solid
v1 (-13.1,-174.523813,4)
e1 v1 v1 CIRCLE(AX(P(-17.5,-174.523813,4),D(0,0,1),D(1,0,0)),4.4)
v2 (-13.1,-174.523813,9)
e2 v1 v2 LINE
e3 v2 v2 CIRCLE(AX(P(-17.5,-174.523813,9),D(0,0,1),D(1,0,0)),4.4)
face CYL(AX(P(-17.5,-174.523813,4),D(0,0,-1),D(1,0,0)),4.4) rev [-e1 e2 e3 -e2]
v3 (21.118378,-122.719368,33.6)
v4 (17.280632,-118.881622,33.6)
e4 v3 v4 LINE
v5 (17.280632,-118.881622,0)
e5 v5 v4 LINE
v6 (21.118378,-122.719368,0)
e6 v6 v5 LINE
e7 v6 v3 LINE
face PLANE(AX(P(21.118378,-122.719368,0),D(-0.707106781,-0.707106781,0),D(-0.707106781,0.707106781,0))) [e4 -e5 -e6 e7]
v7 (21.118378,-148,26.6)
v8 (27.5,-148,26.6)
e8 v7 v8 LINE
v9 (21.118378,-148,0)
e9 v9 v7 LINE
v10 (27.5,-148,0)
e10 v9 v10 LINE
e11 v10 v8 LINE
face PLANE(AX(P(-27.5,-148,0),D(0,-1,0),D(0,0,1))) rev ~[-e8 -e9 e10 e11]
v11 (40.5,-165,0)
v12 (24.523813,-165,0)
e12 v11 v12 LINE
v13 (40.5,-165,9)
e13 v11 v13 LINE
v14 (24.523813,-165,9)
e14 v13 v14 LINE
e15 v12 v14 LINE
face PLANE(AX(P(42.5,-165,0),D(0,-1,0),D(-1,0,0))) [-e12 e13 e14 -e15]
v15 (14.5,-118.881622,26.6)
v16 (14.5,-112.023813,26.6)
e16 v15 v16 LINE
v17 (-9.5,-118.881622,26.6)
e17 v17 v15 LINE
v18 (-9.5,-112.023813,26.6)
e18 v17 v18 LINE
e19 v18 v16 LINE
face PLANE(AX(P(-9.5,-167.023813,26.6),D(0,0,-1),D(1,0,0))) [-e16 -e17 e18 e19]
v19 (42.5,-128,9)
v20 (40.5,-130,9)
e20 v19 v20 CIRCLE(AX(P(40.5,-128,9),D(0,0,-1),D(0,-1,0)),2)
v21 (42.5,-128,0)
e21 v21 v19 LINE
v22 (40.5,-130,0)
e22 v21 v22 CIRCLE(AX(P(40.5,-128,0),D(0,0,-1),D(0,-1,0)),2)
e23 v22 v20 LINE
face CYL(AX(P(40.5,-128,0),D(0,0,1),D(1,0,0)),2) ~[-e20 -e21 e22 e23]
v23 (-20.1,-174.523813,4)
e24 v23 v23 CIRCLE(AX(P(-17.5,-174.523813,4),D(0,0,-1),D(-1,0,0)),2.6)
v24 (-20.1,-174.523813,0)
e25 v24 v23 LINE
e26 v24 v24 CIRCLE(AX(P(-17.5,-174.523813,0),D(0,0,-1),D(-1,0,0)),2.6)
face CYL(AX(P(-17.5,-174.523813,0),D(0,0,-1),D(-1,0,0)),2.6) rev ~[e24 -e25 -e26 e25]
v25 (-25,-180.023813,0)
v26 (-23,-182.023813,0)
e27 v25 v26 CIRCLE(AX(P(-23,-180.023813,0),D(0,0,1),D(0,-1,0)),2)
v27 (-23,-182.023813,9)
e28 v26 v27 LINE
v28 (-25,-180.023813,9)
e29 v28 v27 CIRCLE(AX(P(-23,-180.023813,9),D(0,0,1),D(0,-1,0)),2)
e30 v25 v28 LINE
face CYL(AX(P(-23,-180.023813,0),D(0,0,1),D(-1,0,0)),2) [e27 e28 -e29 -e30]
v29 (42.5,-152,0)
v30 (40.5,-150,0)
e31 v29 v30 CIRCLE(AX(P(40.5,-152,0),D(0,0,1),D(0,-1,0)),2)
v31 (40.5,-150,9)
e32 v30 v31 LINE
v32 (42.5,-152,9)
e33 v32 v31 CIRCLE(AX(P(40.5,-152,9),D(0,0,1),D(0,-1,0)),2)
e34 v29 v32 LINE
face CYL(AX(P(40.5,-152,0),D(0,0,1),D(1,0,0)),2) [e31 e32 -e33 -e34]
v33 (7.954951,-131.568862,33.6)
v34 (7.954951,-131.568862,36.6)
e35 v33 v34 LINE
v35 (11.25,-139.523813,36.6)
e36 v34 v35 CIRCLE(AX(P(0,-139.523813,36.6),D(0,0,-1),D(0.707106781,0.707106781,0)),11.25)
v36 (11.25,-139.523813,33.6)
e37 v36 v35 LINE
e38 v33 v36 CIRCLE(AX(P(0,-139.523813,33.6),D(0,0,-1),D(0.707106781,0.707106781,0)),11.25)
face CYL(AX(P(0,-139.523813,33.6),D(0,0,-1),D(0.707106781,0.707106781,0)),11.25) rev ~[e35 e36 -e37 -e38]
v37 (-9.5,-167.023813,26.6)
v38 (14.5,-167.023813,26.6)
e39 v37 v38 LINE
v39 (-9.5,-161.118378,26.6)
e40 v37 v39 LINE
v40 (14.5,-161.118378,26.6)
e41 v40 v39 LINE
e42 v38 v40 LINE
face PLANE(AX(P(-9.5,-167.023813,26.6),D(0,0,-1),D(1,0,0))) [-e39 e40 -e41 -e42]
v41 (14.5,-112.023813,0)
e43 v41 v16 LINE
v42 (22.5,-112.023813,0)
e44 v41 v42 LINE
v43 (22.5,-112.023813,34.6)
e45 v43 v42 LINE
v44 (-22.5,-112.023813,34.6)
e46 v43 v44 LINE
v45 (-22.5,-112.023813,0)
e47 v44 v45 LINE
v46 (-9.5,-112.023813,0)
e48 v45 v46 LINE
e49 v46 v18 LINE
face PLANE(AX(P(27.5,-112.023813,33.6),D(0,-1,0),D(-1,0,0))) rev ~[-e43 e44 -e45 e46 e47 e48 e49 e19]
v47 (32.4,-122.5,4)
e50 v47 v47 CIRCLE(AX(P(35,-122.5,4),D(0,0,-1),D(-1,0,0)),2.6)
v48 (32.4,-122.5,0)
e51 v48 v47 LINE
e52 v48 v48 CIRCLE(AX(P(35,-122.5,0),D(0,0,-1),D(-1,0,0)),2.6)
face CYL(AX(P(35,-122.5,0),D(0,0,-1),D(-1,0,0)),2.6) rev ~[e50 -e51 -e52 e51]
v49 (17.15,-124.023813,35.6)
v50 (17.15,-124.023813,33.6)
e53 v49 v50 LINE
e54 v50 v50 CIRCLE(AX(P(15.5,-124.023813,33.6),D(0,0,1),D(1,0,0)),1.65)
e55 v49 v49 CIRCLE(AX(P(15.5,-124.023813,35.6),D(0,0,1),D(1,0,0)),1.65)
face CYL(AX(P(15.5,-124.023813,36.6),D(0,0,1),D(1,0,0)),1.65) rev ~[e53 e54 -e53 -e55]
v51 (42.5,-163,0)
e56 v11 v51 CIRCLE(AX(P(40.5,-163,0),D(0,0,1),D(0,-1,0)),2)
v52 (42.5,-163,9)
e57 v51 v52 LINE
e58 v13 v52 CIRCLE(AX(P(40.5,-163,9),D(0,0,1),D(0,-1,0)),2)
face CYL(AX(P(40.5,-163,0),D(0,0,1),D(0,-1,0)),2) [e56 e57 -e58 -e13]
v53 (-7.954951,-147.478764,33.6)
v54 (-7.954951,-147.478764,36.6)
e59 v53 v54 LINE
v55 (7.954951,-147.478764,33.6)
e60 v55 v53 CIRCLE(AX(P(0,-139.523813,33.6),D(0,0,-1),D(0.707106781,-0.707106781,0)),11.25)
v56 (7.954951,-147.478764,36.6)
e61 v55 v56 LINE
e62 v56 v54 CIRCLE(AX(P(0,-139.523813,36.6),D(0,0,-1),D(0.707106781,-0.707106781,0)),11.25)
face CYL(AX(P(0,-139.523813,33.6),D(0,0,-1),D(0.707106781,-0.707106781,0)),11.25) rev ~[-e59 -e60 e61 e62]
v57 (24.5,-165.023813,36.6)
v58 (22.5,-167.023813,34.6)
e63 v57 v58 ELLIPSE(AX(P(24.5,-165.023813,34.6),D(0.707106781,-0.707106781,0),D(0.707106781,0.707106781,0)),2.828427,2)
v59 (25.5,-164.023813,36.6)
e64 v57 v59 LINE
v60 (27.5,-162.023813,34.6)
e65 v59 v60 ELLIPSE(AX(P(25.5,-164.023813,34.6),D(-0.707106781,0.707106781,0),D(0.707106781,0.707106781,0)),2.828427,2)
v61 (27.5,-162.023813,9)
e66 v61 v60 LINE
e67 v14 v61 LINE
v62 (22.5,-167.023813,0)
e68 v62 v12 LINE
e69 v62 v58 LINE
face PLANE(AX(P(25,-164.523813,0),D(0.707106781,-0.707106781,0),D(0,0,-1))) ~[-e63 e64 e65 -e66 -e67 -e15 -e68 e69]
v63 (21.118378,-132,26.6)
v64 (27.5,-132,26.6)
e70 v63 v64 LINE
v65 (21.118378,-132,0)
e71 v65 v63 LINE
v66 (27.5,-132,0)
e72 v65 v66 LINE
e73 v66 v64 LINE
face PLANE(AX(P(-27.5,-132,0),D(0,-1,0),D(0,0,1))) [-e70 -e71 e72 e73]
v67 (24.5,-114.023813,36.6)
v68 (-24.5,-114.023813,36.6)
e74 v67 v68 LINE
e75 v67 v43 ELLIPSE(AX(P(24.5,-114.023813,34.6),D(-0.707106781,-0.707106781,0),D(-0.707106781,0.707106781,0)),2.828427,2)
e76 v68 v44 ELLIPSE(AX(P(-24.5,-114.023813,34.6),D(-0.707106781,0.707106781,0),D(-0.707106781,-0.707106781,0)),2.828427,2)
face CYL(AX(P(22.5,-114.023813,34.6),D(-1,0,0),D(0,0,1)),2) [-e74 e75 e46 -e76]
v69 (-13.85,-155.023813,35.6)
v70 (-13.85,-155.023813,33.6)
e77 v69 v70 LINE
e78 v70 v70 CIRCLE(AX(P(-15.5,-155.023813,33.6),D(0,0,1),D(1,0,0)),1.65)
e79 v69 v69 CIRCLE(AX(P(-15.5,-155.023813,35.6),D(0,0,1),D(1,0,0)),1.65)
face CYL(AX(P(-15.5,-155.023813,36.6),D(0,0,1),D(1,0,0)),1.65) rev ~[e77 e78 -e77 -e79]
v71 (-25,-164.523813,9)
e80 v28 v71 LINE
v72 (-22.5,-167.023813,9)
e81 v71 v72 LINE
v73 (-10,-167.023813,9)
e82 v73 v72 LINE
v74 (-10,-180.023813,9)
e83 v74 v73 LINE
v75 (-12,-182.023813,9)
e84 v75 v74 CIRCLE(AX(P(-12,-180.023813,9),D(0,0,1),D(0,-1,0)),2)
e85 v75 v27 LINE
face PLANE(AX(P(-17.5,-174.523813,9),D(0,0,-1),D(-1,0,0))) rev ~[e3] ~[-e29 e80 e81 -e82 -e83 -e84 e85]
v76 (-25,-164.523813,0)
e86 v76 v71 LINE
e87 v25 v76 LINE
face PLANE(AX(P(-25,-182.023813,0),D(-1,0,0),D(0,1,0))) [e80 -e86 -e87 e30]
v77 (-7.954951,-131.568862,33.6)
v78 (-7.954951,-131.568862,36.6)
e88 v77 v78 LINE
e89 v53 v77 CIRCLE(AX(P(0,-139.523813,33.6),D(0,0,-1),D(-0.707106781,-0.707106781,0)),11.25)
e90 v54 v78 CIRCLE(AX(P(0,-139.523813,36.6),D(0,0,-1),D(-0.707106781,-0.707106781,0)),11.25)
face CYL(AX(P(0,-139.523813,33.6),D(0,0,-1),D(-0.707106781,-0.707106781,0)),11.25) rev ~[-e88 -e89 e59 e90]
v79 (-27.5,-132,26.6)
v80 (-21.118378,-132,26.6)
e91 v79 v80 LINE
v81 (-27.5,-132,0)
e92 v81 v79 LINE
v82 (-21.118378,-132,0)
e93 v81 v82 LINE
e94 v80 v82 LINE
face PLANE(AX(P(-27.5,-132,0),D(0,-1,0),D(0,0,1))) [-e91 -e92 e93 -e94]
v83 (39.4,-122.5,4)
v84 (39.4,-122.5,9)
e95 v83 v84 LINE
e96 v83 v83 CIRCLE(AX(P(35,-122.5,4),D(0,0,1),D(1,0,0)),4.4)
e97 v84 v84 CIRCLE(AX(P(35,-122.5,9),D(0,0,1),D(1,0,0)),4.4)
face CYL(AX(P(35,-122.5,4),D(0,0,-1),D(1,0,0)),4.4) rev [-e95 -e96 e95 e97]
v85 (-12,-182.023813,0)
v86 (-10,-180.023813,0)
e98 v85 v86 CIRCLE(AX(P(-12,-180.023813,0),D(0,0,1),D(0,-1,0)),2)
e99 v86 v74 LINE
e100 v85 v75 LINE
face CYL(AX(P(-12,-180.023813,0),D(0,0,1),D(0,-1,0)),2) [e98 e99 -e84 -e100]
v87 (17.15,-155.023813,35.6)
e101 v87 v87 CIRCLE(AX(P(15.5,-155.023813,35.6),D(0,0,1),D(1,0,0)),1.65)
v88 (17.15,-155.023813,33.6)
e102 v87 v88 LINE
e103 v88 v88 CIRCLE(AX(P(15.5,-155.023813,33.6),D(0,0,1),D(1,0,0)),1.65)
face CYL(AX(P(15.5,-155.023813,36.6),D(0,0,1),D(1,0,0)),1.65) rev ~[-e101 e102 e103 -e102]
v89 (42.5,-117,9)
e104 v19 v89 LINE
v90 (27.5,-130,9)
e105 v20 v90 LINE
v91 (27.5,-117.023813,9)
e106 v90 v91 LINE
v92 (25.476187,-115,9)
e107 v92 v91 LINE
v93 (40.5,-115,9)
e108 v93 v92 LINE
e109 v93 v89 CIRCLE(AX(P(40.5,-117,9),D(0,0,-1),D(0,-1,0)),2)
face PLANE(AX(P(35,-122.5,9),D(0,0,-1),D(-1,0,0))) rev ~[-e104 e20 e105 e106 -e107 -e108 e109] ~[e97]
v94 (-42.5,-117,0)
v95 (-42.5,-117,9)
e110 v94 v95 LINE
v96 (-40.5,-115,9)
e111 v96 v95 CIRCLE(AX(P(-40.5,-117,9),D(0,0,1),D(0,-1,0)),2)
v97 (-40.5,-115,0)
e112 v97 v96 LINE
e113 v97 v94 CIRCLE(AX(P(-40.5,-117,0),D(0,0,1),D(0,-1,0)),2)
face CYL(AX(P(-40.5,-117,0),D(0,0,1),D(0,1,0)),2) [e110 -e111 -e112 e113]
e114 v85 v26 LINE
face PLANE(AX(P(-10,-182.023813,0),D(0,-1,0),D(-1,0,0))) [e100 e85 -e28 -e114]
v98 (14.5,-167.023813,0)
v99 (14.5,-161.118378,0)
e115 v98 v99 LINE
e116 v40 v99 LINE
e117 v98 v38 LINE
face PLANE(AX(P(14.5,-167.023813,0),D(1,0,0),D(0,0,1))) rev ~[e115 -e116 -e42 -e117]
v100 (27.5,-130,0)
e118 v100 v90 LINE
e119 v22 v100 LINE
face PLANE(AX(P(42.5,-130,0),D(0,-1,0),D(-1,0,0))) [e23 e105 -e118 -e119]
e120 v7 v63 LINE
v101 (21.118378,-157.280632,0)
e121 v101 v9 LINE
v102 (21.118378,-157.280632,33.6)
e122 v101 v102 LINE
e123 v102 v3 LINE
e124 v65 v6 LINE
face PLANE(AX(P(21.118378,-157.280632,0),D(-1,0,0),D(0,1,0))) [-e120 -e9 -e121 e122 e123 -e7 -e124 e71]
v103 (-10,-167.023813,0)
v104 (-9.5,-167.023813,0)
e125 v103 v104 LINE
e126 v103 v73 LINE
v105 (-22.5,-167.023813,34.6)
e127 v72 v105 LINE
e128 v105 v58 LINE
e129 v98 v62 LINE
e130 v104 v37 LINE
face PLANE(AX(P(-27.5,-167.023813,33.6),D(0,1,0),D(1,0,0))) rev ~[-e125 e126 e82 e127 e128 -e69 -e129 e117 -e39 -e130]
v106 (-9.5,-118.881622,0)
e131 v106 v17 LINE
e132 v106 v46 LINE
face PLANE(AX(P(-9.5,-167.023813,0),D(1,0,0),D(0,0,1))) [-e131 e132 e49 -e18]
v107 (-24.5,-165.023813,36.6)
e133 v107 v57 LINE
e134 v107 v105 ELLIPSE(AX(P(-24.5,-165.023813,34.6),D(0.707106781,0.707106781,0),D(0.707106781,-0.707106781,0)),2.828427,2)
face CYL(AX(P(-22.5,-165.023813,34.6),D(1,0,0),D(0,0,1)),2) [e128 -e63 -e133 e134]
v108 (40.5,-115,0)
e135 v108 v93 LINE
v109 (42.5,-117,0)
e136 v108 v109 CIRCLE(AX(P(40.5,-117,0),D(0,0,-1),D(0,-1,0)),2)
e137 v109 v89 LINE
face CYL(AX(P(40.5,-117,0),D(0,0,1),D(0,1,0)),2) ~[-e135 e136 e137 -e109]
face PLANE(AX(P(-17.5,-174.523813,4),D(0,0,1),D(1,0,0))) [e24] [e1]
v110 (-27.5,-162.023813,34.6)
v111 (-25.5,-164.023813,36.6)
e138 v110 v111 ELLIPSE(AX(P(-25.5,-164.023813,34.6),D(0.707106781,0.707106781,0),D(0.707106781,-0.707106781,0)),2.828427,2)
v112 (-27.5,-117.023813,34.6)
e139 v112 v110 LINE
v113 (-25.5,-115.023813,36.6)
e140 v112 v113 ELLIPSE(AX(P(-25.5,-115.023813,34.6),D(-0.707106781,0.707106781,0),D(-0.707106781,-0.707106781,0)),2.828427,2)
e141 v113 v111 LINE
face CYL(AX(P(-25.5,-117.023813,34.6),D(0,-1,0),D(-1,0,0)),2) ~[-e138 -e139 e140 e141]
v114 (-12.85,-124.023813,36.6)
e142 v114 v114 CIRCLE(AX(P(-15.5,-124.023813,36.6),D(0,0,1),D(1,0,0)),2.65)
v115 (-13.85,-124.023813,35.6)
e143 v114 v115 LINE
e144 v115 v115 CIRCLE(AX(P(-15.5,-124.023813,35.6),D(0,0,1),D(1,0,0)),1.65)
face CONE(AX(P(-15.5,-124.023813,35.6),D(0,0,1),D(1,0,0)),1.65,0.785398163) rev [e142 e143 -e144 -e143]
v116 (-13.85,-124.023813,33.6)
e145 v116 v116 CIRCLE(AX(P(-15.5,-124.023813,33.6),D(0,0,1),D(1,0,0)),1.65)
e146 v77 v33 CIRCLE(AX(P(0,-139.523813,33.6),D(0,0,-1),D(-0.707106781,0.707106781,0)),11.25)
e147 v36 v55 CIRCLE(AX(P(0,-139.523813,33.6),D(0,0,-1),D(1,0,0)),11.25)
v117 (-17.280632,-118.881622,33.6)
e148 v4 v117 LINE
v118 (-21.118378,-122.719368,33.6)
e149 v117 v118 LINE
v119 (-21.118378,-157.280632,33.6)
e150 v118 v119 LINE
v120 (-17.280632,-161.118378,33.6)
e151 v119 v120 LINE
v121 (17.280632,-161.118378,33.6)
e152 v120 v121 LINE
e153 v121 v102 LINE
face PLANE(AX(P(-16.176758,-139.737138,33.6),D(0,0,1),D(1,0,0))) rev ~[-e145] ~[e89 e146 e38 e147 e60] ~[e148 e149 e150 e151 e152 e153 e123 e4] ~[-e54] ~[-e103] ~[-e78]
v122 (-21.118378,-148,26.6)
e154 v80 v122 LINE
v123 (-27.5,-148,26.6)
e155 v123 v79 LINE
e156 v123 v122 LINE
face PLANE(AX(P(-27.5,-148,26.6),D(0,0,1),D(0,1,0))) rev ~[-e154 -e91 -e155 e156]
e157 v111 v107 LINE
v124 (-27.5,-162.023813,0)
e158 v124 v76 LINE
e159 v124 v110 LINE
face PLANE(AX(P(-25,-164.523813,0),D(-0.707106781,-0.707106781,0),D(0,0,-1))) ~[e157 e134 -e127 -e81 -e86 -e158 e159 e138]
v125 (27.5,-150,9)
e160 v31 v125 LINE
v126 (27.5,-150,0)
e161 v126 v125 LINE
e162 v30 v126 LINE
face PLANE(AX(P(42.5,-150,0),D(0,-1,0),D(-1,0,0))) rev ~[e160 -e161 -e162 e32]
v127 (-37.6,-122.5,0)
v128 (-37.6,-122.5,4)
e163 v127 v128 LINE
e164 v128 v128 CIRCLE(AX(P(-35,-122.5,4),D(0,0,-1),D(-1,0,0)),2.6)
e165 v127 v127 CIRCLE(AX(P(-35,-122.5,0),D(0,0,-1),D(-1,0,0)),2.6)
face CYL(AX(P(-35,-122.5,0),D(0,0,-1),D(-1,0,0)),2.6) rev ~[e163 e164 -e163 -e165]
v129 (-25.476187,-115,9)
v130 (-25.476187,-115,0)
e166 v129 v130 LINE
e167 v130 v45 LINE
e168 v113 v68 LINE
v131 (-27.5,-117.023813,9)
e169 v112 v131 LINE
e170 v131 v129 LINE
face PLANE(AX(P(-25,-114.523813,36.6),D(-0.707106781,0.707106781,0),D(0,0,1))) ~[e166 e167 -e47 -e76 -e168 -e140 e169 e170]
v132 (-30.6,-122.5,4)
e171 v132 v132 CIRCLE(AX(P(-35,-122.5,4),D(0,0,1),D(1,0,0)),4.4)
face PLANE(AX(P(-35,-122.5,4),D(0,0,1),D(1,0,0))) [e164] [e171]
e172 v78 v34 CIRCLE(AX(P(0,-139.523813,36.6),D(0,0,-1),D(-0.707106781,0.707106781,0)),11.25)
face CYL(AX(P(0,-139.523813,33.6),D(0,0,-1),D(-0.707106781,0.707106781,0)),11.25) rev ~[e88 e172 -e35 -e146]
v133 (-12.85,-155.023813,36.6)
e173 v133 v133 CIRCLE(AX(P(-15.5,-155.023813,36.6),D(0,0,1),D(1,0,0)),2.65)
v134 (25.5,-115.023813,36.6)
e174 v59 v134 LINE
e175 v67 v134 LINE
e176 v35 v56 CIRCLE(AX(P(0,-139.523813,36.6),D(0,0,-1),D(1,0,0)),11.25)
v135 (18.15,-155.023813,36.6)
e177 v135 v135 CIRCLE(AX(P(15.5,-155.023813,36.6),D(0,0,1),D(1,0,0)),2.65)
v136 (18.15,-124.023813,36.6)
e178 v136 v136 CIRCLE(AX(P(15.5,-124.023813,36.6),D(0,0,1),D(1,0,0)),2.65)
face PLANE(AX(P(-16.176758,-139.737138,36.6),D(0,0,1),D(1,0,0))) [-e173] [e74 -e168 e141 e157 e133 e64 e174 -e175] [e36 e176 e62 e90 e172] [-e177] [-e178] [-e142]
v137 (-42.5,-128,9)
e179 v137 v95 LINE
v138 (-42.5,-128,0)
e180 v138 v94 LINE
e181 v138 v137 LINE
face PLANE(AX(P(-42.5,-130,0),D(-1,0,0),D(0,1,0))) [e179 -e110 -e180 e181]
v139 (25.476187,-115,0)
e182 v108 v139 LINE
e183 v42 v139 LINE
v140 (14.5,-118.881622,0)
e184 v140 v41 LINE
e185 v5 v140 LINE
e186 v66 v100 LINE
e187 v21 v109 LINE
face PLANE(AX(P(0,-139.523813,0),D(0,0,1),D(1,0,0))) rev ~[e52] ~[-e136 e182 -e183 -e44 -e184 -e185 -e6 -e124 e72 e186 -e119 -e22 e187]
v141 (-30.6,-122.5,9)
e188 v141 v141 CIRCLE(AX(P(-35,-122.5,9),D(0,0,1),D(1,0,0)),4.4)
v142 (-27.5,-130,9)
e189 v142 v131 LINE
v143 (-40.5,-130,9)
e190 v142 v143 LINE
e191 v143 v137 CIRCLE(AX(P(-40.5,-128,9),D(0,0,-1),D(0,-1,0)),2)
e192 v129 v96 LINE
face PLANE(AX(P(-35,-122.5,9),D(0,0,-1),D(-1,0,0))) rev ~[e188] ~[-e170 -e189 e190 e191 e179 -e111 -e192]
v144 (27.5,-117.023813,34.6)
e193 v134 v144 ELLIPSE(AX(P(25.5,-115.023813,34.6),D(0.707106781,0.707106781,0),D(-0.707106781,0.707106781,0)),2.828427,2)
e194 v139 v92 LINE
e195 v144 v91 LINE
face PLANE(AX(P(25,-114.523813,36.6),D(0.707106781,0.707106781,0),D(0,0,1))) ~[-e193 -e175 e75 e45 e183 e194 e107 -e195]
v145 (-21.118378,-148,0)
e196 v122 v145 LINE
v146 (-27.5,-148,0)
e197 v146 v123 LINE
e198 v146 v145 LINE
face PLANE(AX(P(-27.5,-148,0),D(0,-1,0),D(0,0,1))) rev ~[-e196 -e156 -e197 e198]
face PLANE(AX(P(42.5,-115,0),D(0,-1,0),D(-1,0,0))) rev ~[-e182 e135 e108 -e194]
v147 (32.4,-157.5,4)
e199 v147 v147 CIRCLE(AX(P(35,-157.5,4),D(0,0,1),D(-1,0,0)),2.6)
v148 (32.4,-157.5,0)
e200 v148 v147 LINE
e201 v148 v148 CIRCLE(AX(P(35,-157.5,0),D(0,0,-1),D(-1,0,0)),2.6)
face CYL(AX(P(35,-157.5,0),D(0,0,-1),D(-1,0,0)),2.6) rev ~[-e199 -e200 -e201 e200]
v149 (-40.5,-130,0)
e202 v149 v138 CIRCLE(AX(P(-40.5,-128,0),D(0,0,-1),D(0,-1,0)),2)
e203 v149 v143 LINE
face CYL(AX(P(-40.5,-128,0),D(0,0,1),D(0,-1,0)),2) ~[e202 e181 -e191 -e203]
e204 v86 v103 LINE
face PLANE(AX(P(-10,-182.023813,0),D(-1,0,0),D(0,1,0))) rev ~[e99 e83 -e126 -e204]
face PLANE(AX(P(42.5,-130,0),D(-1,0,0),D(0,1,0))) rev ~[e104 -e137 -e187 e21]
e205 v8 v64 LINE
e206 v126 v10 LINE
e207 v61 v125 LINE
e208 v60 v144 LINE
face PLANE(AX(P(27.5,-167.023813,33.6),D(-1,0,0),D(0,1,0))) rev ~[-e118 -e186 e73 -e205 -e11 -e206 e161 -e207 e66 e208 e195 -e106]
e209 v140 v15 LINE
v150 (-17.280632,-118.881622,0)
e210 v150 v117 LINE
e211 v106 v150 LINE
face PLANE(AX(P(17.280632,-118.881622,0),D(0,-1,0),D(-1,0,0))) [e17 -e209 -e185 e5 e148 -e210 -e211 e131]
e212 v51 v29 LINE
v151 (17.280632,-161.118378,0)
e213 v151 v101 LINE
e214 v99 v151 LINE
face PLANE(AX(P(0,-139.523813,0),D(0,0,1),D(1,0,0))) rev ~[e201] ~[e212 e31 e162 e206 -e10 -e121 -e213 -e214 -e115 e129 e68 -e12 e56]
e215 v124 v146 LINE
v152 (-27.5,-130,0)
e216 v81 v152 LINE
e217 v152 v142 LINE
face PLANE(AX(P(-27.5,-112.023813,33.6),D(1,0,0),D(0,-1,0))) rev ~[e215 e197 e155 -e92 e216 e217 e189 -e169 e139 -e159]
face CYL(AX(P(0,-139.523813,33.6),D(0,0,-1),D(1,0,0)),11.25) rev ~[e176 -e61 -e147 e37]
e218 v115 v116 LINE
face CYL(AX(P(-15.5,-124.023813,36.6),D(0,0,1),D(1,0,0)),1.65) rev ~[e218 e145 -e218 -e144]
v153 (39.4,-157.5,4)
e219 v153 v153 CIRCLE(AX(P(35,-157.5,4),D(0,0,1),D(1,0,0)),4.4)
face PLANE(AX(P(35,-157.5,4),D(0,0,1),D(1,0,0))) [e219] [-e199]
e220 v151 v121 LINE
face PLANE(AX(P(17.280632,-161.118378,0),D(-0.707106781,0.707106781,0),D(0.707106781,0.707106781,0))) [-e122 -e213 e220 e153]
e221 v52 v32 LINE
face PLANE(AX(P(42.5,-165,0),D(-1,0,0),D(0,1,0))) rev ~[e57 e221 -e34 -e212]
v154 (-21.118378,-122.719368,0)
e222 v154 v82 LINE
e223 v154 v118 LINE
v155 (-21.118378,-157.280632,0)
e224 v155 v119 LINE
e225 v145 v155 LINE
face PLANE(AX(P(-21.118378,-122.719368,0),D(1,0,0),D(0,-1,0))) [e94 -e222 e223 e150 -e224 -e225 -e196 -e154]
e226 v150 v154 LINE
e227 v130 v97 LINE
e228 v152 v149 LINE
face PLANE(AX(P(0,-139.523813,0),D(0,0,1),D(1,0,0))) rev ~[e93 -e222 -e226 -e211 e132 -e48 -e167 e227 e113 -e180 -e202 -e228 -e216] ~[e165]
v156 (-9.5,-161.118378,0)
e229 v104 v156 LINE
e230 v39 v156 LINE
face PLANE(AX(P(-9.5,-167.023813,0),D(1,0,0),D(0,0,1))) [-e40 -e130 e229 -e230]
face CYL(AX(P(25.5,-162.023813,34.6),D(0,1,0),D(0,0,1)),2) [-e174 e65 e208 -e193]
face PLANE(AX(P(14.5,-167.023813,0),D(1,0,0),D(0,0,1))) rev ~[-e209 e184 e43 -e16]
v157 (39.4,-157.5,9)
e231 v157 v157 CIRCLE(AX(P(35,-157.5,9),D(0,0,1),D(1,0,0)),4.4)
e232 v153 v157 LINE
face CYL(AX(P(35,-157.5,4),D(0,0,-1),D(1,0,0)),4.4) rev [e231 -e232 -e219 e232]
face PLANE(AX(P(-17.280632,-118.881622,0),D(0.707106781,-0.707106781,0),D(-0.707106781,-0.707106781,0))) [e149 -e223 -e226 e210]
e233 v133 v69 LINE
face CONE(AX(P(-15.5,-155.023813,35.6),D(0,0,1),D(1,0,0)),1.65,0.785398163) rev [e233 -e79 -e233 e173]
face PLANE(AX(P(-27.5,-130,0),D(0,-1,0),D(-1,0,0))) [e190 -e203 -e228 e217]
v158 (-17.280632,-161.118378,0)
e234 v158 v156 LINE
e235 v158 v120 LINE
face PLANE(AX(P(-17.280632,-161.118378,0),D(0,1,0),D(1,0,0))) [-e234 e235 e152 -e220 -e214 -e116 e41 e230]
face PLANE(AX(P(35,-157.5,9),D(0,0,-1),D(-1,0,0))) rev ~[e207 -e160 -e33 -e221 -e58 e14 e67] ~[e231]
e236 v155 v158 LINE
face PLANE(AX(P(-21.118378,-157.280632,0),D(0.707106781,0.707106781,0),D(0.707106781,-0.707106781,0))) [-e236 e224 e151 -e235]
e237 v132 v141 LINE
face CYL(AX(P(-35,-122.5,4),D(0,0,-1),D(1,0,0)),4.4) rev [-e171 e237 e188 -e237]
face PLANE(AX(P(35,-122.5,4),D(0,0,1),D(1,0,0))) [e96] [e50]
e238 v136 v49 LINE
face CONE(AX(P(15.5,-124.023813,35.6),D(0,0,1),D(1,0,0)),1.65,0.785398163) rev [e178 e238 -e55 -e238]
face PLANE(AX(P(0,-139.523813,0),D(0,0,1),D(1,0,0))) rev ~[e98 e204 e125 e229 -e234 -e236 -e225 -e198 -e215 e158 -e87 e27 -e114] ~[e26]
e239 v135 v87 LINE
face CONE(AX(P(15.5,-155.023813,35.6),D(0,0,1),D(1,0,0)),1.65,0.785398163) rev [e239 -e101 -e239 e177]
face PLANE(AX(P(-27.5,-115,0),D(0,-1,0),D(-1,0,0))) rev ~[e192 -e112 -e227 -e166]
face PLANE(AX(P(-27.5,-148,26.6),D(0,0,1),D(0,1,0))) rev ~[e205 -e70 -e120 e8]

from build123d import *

# Parameters (mm, degrees)
SKETCH2_W           = 55
SKETCH2_H           = 55
BOSS_EXTRUDE1_DEPTH = 33.6
BOSS_EXTRUDE2_DEPTH = 3
SKETCH4_W           = 15
SKETCH4_H           = 15
SKETCH4_R           = 2.6
BOSS_EXTRUDE3_DEPTH = 9
CUT_EXTRUDE1_START  = -5
SKETCH6_R           = 4.4
SKETCH6_R_2         = 2.6
CUT_EXTRUDE1_DEPTH  = 5
CHAMFER1_SIZE       = 5
FILLET4_R           = 2
SKETCH7_W           = 24
SKETCH7_H           = 26.6
CUT_EXTRUDE2_DEPTH  = 67
SKETCH8_W           = 26.6
SKETCH8_H           = 16
CUT_EXTRUDE3_DEPTH  = 67
SKETCH10_R          = 1.65
CUT_EXTRUDE4_DEPTH  = 10
CHAMFER2_SIZE       = 1


with BuildPart() as part:
    # Sketch2 → Boss-Extrude1 (new body)
    with BuildSketch(Plane.XY):
        with Locations((0, 0.476186899)):
            Rectangle(SKETCH2_W, SKETCH2_H)
        Polygon((21.118377871, -17.280631787), (21.118377871, 17.280631787), (17.280631787, 21.118377871), (-17.280631787, 21.118377871), (-21.118377871, 17.280631787), (-21.118377871, -17.280631787), (-17.280631787, -21.118377871), (17.280631787, -21.118377871), align=None, mode=Mode.SUBTRACT)
    extrude(amount=BOSS_EXTRUDE1_DEPTH)

    # Sketch3 → Boss-Extrude2 (add)
    with BuildSketch(Plane.XY.offset(33.6)):
        with BuildLine():
            Line((-7.954951288, 8.431138187), (-18.961411379, 19.437598278))
            Line((-18.961411379, 19.437598278), (-21.118377871, 17.280631787))
            Line((-21.118377871, 17.280631787), (-21.118377871, -17.280631787))
            Line((-21.118377871, -17.280631787), (-19.437598278, -18.961411379))
            Line((-19.437598278, -18.961411379), (-7.954951288, -7.478764389))
            ThreePointArc((-7.954951288, -7.478764389), (-11.25, 0.476186899), (-7.954951288, 8.431138187))
        make_face()
        with BuildLine():
            Line((-7.954951288, -7.478764389), (-19.437598278, -18.961411379))
            Line((-19.437598278, -18.961411379), (-17.280631787, -21.118377871))
            Line((-17.280631787, -21.118377871), (17.280631787, -21.118377871))
            Line((17.280631787, -21.118377871), (19.437598278, -18.961411379))
            Line((19.437598278, -18.961411379), (7.954951288, -7.478764389))
            ThreePointArc((7.954951288, -7.478764389), (0, -10.773813101), (-7.954951288, -7.478764389))
        make_face()
        with BuildLine():
            Line((21.118377871, 17.280631787), (18.961411379, 19.437598278))
            Line((18.961411379, 19.437598278), (7.954951288, 8.431138187))
            ThreePointArc((7.954951288, 8.431138187), (10.393644741, 4.781375513), (11.25, 0.476186899))
            ThreePointArc((11.25, 0.476186899), (10.393644741, -3.829001715), (7.954951288, -7.478764389))
            Line((7.954951288, -7.478764389), (19.437598278, -18.961411379))
            Line((19.437598278, -18.961411379), (21.118377871, -17.280631787))
            Line((21.118377871, -17.280631787), (21.118377871, 17.280631787))
        make_face()
        with BuildLine():
            Line((-17.280631787, 21.118377871), (-18.961411379, 19.437598278))
            Line((-18.961411379, 19.437598278), (-7.954951288, 8.431138187))
            ThreePointArc((-7.954951288, 8.431138187), (0, 11.726186899), (7.954951288, 8.431138187))
            Line((7.954951288, 8.431138187), (18.961411379, 19.437598278))
            Line((18.961411379, 19.437598278), (17.280631787, 21.118377871))
            Line((17.280631787, 21.118377871), (-17.280631787, 21.118377871))
        make_face()
        Polygon((-18.961411379, 19.437598278), (-27.5, 27.976186899), (-27.5, -27.023813101), (-19.437598278, -18.961411379), (-21.118377871, -17.280631787), (-21.118377871, 17.280631787), align=None)
        Polygon((-19.437598278, -18.961411379), (-27.5, -27.023813101), (27.5, -27.023813101), (19.437598278, -18.961411379), (17.280631787, -21.118377871), (-17.280631787, -21.118377871), align=None)
        Polygon((27.5, -27.023813101), (27.5, 27.976186899), (18.961411379, 19.437598278), (21.118377871, 17.280631787), (21.118377871, -17.280631787), (19.437598278, -18.961411379), align=None)
        Polygon((27.5, 27.976186899), (-27.5, 27.976186899), (-18.961411379, 19.437598278), (-17.280631787, 21.118377871), (17.280631787, 21.118377871), (18.961411379, 19.437598278), align=None)
    extrude(amount=BOSS_EXTRUDE2_DEPTH)

    # Sketch4 → Boss-Extrude3 (add)
    # profile 1 of 4: a face of its own
    with BuildSketch(Plane(origin=(0, 0, 0), x_dir=(-1, 0, 0), z_dir=(0, 0, -1))):
        with Locations((-35, 17.5)):
            Rectangle(SKETCH4_W, SKETCH4_H)
        with Locations((-35, 17.5)):
            Circle(SKETCH4_R, mode=Mode.SUBTRACT)
    # profile 2 of 4: a face of its own
    with BuildSketch(Plane(origin=(0, 0, 0), x_dir=(-1, 0, 0), z_dir=(0, 0, -1))):
        with Locations((35, 17.5)):
            Rectangle(SKETCH4_W, SKETCH4_H)
        with Locations((35, 17.5)):
            Circle(SKETCH4_R, mode=Mode.SUBTRACT)
    # profile 3 of 4: a face of its own
    with BuildSketch(Plane(origin=(0, 0, 0), x_dir=(-1, 0, 0), z_dir=(0, 0, -1))):
        with Locations((-35, -17.5)):
            Rectangle(SKETCH4_W, SKETCH4_H)
        with Locations((-35, -17.5)):
            Circle(SKETCH4_R, mode=Mode.SUBTRACT)
    # profile 4 of 4: a face of its own
    with BuildSketch(Plane(origin=(0, 0, 0), x_dir=(-1, 0, 0), z_dir=(0, 0, -1))):
        with Locations((17.5, -34.523813101)):
            Rectangle(SKETCH4_W, SKETCH4_H)
        with Locations((17.5, -34.523813101)):
            Circle(SKETCH4_R, mode=Mode.SUBTRACT)
    extrude(amount=-BOSS_EXTRUDE3_DEPTH)

    # Sketch6 → Cut-Extrude1 (cut)
    # profile 1 of 4: a face of its own
    with BuildSketch(Plane.XY.offset(9).offset(CUT_EXTRUDE1_START)):
        with Locations((-17.5, -34.523813101)):
            Circle(SKETCH6_R)
    # profile 2 of 4: a face of its own
    with BuildSketch(Plane.XY.offset(9).offset(CUT_EXTRUDE1_START)):
        with Locations((-35, 17.5)):
            Circle(SKETCH6_R)
    # profile 3 of 4: a face of its own
    with BuildSketch(Plane.XY.offset(9).offset(CUT_EXTRUDE1_START)):
        with Locations((35, -17.5)):
            Circle(SKETCH6_R)
        with Locations(Location((35, -17.5, 0), (0, 0, 180))):
            Circle(SKETCH6_R_2, mode=Mode.SUBTRACT)
    # profile 4 of 4: a face of its own
    with BuildSketch(Plane.XY.offset(9).offset(CUT_EXTRUDE1_START)):
        with Locations((35, 17.5)):
            Circle(SKETCH6_R)
    extrude(amount=CUT_EXTRUDE1_DEPTH, mode=Mode.SUBTRACT)

    # Chamfer1
    chamfer1_edges = [part.edges().sort_by_distance(p)[0] for p in [
        (27.5, -27.023813101, 18.3),
        (-27.5, -27.023813101, 18.3),
        (27.5, 27.976186899, 18.3),
        (-27.5, 27.976186899, 18.3),
    ]]
    chamfer(chamfer1_edges, length=CHAMFER1_SIZE)

    # Fillet4
    fillet4_edges = [part.edges().sort_by_distance(p)[0] for p in [
        (0, 27.976186899, 36.6),
        (27.5, 0.476186899, 36.6),
        (0, -27.023813101, 36.6),
        (-27.5, 0.476186899, 36.6),
        (-25, -42.023813101, 4.5),
        (-10, -42.023813101, 4.5),
        (-42.5, 10, 4.5),
        (-42.5, 25, 4.5),
        (42.5, -25, 4.5),
        (42.5, -10, 4.5),
        (42.5, 10, 4.5),
        (42.5, 25, 4.5),
    ]]
    fillet(fillet4_edges, radius=FILLET4_R)

    # Sketch7 → Cut-Extrude2 (cut)
    with BuildSketch(Plane.XZ.offset(27.023813101)):
        with Locations((2.5, 13.3)):
            Rectangle(SKETCH7_W, SKETCH7_H)
    extrude(amount=-CUT_EXTRUDE2_DEPTH, mode=Mode.SUBTRACT)

    # Sketch8 → Cut-Extrude3 (cut)
    with BuildSketch(Plane.ZY.offset(27.5)):
        with Locations((13.3, 0)):
            Rectangle(SKETCH8_W, SKETCH8_H)
    extrude(amount=-CUT_EXTRUDE3_DEPTH, mode=Mode.SUBTRACT)


with BuildPart() as body_2:
    # Mirror2: mirrored copy
    add(part.part.mirror(Plane(origin=(-25, -42.023813101, 9), x_dir=(0, 0, 1), z_dir=(0, 1, 0))))


with BuildPart() as body_2_2:
    # Mirror3: mirrored copy
    add(body_2.part.mirror(Plane(origin=(-1.737426519, -112.023813101, 20.07988243), x_dir=(0, 0, 1), z_dir=(0, -1, 0))))

    # Sketch10 → Cut-Extrude4 (cut)
    with BuildSketch(Plane.XY.offset(36.6)):
        with Locations((-15.5, -124.023813101)):
            Circle(SKETCH10_R)
        with Locations((15.5, -124.023813101)):
            Circle(SKETCH10_R)
        with Locations((15.5, -155.023813101)):
            Circle(SKETCH10_R)
        with Locations((-15.5, -155.023813101)):
            Circle(SKETCH10_R)
    extrude(amount=-CUT_EXTRUDE4_DEPTH, mode=Mode.SUBTRACT)

    # Chamfer2
    chamfer2_edges = [body_2_2.edges().sort_by_distance(p)[0] for p in [
        (-17.15, -155.023813101, 36.6),
        (13.85, -155.023813101, 36.6),
        (13.85, -124.023813101, 36.6),
        (-17.15, -124.023813101, 36.6),
    ]]
    chamfer(chamfer2_edges, length=CHAMFER2_SIZE)


solid = body_2_2.part
